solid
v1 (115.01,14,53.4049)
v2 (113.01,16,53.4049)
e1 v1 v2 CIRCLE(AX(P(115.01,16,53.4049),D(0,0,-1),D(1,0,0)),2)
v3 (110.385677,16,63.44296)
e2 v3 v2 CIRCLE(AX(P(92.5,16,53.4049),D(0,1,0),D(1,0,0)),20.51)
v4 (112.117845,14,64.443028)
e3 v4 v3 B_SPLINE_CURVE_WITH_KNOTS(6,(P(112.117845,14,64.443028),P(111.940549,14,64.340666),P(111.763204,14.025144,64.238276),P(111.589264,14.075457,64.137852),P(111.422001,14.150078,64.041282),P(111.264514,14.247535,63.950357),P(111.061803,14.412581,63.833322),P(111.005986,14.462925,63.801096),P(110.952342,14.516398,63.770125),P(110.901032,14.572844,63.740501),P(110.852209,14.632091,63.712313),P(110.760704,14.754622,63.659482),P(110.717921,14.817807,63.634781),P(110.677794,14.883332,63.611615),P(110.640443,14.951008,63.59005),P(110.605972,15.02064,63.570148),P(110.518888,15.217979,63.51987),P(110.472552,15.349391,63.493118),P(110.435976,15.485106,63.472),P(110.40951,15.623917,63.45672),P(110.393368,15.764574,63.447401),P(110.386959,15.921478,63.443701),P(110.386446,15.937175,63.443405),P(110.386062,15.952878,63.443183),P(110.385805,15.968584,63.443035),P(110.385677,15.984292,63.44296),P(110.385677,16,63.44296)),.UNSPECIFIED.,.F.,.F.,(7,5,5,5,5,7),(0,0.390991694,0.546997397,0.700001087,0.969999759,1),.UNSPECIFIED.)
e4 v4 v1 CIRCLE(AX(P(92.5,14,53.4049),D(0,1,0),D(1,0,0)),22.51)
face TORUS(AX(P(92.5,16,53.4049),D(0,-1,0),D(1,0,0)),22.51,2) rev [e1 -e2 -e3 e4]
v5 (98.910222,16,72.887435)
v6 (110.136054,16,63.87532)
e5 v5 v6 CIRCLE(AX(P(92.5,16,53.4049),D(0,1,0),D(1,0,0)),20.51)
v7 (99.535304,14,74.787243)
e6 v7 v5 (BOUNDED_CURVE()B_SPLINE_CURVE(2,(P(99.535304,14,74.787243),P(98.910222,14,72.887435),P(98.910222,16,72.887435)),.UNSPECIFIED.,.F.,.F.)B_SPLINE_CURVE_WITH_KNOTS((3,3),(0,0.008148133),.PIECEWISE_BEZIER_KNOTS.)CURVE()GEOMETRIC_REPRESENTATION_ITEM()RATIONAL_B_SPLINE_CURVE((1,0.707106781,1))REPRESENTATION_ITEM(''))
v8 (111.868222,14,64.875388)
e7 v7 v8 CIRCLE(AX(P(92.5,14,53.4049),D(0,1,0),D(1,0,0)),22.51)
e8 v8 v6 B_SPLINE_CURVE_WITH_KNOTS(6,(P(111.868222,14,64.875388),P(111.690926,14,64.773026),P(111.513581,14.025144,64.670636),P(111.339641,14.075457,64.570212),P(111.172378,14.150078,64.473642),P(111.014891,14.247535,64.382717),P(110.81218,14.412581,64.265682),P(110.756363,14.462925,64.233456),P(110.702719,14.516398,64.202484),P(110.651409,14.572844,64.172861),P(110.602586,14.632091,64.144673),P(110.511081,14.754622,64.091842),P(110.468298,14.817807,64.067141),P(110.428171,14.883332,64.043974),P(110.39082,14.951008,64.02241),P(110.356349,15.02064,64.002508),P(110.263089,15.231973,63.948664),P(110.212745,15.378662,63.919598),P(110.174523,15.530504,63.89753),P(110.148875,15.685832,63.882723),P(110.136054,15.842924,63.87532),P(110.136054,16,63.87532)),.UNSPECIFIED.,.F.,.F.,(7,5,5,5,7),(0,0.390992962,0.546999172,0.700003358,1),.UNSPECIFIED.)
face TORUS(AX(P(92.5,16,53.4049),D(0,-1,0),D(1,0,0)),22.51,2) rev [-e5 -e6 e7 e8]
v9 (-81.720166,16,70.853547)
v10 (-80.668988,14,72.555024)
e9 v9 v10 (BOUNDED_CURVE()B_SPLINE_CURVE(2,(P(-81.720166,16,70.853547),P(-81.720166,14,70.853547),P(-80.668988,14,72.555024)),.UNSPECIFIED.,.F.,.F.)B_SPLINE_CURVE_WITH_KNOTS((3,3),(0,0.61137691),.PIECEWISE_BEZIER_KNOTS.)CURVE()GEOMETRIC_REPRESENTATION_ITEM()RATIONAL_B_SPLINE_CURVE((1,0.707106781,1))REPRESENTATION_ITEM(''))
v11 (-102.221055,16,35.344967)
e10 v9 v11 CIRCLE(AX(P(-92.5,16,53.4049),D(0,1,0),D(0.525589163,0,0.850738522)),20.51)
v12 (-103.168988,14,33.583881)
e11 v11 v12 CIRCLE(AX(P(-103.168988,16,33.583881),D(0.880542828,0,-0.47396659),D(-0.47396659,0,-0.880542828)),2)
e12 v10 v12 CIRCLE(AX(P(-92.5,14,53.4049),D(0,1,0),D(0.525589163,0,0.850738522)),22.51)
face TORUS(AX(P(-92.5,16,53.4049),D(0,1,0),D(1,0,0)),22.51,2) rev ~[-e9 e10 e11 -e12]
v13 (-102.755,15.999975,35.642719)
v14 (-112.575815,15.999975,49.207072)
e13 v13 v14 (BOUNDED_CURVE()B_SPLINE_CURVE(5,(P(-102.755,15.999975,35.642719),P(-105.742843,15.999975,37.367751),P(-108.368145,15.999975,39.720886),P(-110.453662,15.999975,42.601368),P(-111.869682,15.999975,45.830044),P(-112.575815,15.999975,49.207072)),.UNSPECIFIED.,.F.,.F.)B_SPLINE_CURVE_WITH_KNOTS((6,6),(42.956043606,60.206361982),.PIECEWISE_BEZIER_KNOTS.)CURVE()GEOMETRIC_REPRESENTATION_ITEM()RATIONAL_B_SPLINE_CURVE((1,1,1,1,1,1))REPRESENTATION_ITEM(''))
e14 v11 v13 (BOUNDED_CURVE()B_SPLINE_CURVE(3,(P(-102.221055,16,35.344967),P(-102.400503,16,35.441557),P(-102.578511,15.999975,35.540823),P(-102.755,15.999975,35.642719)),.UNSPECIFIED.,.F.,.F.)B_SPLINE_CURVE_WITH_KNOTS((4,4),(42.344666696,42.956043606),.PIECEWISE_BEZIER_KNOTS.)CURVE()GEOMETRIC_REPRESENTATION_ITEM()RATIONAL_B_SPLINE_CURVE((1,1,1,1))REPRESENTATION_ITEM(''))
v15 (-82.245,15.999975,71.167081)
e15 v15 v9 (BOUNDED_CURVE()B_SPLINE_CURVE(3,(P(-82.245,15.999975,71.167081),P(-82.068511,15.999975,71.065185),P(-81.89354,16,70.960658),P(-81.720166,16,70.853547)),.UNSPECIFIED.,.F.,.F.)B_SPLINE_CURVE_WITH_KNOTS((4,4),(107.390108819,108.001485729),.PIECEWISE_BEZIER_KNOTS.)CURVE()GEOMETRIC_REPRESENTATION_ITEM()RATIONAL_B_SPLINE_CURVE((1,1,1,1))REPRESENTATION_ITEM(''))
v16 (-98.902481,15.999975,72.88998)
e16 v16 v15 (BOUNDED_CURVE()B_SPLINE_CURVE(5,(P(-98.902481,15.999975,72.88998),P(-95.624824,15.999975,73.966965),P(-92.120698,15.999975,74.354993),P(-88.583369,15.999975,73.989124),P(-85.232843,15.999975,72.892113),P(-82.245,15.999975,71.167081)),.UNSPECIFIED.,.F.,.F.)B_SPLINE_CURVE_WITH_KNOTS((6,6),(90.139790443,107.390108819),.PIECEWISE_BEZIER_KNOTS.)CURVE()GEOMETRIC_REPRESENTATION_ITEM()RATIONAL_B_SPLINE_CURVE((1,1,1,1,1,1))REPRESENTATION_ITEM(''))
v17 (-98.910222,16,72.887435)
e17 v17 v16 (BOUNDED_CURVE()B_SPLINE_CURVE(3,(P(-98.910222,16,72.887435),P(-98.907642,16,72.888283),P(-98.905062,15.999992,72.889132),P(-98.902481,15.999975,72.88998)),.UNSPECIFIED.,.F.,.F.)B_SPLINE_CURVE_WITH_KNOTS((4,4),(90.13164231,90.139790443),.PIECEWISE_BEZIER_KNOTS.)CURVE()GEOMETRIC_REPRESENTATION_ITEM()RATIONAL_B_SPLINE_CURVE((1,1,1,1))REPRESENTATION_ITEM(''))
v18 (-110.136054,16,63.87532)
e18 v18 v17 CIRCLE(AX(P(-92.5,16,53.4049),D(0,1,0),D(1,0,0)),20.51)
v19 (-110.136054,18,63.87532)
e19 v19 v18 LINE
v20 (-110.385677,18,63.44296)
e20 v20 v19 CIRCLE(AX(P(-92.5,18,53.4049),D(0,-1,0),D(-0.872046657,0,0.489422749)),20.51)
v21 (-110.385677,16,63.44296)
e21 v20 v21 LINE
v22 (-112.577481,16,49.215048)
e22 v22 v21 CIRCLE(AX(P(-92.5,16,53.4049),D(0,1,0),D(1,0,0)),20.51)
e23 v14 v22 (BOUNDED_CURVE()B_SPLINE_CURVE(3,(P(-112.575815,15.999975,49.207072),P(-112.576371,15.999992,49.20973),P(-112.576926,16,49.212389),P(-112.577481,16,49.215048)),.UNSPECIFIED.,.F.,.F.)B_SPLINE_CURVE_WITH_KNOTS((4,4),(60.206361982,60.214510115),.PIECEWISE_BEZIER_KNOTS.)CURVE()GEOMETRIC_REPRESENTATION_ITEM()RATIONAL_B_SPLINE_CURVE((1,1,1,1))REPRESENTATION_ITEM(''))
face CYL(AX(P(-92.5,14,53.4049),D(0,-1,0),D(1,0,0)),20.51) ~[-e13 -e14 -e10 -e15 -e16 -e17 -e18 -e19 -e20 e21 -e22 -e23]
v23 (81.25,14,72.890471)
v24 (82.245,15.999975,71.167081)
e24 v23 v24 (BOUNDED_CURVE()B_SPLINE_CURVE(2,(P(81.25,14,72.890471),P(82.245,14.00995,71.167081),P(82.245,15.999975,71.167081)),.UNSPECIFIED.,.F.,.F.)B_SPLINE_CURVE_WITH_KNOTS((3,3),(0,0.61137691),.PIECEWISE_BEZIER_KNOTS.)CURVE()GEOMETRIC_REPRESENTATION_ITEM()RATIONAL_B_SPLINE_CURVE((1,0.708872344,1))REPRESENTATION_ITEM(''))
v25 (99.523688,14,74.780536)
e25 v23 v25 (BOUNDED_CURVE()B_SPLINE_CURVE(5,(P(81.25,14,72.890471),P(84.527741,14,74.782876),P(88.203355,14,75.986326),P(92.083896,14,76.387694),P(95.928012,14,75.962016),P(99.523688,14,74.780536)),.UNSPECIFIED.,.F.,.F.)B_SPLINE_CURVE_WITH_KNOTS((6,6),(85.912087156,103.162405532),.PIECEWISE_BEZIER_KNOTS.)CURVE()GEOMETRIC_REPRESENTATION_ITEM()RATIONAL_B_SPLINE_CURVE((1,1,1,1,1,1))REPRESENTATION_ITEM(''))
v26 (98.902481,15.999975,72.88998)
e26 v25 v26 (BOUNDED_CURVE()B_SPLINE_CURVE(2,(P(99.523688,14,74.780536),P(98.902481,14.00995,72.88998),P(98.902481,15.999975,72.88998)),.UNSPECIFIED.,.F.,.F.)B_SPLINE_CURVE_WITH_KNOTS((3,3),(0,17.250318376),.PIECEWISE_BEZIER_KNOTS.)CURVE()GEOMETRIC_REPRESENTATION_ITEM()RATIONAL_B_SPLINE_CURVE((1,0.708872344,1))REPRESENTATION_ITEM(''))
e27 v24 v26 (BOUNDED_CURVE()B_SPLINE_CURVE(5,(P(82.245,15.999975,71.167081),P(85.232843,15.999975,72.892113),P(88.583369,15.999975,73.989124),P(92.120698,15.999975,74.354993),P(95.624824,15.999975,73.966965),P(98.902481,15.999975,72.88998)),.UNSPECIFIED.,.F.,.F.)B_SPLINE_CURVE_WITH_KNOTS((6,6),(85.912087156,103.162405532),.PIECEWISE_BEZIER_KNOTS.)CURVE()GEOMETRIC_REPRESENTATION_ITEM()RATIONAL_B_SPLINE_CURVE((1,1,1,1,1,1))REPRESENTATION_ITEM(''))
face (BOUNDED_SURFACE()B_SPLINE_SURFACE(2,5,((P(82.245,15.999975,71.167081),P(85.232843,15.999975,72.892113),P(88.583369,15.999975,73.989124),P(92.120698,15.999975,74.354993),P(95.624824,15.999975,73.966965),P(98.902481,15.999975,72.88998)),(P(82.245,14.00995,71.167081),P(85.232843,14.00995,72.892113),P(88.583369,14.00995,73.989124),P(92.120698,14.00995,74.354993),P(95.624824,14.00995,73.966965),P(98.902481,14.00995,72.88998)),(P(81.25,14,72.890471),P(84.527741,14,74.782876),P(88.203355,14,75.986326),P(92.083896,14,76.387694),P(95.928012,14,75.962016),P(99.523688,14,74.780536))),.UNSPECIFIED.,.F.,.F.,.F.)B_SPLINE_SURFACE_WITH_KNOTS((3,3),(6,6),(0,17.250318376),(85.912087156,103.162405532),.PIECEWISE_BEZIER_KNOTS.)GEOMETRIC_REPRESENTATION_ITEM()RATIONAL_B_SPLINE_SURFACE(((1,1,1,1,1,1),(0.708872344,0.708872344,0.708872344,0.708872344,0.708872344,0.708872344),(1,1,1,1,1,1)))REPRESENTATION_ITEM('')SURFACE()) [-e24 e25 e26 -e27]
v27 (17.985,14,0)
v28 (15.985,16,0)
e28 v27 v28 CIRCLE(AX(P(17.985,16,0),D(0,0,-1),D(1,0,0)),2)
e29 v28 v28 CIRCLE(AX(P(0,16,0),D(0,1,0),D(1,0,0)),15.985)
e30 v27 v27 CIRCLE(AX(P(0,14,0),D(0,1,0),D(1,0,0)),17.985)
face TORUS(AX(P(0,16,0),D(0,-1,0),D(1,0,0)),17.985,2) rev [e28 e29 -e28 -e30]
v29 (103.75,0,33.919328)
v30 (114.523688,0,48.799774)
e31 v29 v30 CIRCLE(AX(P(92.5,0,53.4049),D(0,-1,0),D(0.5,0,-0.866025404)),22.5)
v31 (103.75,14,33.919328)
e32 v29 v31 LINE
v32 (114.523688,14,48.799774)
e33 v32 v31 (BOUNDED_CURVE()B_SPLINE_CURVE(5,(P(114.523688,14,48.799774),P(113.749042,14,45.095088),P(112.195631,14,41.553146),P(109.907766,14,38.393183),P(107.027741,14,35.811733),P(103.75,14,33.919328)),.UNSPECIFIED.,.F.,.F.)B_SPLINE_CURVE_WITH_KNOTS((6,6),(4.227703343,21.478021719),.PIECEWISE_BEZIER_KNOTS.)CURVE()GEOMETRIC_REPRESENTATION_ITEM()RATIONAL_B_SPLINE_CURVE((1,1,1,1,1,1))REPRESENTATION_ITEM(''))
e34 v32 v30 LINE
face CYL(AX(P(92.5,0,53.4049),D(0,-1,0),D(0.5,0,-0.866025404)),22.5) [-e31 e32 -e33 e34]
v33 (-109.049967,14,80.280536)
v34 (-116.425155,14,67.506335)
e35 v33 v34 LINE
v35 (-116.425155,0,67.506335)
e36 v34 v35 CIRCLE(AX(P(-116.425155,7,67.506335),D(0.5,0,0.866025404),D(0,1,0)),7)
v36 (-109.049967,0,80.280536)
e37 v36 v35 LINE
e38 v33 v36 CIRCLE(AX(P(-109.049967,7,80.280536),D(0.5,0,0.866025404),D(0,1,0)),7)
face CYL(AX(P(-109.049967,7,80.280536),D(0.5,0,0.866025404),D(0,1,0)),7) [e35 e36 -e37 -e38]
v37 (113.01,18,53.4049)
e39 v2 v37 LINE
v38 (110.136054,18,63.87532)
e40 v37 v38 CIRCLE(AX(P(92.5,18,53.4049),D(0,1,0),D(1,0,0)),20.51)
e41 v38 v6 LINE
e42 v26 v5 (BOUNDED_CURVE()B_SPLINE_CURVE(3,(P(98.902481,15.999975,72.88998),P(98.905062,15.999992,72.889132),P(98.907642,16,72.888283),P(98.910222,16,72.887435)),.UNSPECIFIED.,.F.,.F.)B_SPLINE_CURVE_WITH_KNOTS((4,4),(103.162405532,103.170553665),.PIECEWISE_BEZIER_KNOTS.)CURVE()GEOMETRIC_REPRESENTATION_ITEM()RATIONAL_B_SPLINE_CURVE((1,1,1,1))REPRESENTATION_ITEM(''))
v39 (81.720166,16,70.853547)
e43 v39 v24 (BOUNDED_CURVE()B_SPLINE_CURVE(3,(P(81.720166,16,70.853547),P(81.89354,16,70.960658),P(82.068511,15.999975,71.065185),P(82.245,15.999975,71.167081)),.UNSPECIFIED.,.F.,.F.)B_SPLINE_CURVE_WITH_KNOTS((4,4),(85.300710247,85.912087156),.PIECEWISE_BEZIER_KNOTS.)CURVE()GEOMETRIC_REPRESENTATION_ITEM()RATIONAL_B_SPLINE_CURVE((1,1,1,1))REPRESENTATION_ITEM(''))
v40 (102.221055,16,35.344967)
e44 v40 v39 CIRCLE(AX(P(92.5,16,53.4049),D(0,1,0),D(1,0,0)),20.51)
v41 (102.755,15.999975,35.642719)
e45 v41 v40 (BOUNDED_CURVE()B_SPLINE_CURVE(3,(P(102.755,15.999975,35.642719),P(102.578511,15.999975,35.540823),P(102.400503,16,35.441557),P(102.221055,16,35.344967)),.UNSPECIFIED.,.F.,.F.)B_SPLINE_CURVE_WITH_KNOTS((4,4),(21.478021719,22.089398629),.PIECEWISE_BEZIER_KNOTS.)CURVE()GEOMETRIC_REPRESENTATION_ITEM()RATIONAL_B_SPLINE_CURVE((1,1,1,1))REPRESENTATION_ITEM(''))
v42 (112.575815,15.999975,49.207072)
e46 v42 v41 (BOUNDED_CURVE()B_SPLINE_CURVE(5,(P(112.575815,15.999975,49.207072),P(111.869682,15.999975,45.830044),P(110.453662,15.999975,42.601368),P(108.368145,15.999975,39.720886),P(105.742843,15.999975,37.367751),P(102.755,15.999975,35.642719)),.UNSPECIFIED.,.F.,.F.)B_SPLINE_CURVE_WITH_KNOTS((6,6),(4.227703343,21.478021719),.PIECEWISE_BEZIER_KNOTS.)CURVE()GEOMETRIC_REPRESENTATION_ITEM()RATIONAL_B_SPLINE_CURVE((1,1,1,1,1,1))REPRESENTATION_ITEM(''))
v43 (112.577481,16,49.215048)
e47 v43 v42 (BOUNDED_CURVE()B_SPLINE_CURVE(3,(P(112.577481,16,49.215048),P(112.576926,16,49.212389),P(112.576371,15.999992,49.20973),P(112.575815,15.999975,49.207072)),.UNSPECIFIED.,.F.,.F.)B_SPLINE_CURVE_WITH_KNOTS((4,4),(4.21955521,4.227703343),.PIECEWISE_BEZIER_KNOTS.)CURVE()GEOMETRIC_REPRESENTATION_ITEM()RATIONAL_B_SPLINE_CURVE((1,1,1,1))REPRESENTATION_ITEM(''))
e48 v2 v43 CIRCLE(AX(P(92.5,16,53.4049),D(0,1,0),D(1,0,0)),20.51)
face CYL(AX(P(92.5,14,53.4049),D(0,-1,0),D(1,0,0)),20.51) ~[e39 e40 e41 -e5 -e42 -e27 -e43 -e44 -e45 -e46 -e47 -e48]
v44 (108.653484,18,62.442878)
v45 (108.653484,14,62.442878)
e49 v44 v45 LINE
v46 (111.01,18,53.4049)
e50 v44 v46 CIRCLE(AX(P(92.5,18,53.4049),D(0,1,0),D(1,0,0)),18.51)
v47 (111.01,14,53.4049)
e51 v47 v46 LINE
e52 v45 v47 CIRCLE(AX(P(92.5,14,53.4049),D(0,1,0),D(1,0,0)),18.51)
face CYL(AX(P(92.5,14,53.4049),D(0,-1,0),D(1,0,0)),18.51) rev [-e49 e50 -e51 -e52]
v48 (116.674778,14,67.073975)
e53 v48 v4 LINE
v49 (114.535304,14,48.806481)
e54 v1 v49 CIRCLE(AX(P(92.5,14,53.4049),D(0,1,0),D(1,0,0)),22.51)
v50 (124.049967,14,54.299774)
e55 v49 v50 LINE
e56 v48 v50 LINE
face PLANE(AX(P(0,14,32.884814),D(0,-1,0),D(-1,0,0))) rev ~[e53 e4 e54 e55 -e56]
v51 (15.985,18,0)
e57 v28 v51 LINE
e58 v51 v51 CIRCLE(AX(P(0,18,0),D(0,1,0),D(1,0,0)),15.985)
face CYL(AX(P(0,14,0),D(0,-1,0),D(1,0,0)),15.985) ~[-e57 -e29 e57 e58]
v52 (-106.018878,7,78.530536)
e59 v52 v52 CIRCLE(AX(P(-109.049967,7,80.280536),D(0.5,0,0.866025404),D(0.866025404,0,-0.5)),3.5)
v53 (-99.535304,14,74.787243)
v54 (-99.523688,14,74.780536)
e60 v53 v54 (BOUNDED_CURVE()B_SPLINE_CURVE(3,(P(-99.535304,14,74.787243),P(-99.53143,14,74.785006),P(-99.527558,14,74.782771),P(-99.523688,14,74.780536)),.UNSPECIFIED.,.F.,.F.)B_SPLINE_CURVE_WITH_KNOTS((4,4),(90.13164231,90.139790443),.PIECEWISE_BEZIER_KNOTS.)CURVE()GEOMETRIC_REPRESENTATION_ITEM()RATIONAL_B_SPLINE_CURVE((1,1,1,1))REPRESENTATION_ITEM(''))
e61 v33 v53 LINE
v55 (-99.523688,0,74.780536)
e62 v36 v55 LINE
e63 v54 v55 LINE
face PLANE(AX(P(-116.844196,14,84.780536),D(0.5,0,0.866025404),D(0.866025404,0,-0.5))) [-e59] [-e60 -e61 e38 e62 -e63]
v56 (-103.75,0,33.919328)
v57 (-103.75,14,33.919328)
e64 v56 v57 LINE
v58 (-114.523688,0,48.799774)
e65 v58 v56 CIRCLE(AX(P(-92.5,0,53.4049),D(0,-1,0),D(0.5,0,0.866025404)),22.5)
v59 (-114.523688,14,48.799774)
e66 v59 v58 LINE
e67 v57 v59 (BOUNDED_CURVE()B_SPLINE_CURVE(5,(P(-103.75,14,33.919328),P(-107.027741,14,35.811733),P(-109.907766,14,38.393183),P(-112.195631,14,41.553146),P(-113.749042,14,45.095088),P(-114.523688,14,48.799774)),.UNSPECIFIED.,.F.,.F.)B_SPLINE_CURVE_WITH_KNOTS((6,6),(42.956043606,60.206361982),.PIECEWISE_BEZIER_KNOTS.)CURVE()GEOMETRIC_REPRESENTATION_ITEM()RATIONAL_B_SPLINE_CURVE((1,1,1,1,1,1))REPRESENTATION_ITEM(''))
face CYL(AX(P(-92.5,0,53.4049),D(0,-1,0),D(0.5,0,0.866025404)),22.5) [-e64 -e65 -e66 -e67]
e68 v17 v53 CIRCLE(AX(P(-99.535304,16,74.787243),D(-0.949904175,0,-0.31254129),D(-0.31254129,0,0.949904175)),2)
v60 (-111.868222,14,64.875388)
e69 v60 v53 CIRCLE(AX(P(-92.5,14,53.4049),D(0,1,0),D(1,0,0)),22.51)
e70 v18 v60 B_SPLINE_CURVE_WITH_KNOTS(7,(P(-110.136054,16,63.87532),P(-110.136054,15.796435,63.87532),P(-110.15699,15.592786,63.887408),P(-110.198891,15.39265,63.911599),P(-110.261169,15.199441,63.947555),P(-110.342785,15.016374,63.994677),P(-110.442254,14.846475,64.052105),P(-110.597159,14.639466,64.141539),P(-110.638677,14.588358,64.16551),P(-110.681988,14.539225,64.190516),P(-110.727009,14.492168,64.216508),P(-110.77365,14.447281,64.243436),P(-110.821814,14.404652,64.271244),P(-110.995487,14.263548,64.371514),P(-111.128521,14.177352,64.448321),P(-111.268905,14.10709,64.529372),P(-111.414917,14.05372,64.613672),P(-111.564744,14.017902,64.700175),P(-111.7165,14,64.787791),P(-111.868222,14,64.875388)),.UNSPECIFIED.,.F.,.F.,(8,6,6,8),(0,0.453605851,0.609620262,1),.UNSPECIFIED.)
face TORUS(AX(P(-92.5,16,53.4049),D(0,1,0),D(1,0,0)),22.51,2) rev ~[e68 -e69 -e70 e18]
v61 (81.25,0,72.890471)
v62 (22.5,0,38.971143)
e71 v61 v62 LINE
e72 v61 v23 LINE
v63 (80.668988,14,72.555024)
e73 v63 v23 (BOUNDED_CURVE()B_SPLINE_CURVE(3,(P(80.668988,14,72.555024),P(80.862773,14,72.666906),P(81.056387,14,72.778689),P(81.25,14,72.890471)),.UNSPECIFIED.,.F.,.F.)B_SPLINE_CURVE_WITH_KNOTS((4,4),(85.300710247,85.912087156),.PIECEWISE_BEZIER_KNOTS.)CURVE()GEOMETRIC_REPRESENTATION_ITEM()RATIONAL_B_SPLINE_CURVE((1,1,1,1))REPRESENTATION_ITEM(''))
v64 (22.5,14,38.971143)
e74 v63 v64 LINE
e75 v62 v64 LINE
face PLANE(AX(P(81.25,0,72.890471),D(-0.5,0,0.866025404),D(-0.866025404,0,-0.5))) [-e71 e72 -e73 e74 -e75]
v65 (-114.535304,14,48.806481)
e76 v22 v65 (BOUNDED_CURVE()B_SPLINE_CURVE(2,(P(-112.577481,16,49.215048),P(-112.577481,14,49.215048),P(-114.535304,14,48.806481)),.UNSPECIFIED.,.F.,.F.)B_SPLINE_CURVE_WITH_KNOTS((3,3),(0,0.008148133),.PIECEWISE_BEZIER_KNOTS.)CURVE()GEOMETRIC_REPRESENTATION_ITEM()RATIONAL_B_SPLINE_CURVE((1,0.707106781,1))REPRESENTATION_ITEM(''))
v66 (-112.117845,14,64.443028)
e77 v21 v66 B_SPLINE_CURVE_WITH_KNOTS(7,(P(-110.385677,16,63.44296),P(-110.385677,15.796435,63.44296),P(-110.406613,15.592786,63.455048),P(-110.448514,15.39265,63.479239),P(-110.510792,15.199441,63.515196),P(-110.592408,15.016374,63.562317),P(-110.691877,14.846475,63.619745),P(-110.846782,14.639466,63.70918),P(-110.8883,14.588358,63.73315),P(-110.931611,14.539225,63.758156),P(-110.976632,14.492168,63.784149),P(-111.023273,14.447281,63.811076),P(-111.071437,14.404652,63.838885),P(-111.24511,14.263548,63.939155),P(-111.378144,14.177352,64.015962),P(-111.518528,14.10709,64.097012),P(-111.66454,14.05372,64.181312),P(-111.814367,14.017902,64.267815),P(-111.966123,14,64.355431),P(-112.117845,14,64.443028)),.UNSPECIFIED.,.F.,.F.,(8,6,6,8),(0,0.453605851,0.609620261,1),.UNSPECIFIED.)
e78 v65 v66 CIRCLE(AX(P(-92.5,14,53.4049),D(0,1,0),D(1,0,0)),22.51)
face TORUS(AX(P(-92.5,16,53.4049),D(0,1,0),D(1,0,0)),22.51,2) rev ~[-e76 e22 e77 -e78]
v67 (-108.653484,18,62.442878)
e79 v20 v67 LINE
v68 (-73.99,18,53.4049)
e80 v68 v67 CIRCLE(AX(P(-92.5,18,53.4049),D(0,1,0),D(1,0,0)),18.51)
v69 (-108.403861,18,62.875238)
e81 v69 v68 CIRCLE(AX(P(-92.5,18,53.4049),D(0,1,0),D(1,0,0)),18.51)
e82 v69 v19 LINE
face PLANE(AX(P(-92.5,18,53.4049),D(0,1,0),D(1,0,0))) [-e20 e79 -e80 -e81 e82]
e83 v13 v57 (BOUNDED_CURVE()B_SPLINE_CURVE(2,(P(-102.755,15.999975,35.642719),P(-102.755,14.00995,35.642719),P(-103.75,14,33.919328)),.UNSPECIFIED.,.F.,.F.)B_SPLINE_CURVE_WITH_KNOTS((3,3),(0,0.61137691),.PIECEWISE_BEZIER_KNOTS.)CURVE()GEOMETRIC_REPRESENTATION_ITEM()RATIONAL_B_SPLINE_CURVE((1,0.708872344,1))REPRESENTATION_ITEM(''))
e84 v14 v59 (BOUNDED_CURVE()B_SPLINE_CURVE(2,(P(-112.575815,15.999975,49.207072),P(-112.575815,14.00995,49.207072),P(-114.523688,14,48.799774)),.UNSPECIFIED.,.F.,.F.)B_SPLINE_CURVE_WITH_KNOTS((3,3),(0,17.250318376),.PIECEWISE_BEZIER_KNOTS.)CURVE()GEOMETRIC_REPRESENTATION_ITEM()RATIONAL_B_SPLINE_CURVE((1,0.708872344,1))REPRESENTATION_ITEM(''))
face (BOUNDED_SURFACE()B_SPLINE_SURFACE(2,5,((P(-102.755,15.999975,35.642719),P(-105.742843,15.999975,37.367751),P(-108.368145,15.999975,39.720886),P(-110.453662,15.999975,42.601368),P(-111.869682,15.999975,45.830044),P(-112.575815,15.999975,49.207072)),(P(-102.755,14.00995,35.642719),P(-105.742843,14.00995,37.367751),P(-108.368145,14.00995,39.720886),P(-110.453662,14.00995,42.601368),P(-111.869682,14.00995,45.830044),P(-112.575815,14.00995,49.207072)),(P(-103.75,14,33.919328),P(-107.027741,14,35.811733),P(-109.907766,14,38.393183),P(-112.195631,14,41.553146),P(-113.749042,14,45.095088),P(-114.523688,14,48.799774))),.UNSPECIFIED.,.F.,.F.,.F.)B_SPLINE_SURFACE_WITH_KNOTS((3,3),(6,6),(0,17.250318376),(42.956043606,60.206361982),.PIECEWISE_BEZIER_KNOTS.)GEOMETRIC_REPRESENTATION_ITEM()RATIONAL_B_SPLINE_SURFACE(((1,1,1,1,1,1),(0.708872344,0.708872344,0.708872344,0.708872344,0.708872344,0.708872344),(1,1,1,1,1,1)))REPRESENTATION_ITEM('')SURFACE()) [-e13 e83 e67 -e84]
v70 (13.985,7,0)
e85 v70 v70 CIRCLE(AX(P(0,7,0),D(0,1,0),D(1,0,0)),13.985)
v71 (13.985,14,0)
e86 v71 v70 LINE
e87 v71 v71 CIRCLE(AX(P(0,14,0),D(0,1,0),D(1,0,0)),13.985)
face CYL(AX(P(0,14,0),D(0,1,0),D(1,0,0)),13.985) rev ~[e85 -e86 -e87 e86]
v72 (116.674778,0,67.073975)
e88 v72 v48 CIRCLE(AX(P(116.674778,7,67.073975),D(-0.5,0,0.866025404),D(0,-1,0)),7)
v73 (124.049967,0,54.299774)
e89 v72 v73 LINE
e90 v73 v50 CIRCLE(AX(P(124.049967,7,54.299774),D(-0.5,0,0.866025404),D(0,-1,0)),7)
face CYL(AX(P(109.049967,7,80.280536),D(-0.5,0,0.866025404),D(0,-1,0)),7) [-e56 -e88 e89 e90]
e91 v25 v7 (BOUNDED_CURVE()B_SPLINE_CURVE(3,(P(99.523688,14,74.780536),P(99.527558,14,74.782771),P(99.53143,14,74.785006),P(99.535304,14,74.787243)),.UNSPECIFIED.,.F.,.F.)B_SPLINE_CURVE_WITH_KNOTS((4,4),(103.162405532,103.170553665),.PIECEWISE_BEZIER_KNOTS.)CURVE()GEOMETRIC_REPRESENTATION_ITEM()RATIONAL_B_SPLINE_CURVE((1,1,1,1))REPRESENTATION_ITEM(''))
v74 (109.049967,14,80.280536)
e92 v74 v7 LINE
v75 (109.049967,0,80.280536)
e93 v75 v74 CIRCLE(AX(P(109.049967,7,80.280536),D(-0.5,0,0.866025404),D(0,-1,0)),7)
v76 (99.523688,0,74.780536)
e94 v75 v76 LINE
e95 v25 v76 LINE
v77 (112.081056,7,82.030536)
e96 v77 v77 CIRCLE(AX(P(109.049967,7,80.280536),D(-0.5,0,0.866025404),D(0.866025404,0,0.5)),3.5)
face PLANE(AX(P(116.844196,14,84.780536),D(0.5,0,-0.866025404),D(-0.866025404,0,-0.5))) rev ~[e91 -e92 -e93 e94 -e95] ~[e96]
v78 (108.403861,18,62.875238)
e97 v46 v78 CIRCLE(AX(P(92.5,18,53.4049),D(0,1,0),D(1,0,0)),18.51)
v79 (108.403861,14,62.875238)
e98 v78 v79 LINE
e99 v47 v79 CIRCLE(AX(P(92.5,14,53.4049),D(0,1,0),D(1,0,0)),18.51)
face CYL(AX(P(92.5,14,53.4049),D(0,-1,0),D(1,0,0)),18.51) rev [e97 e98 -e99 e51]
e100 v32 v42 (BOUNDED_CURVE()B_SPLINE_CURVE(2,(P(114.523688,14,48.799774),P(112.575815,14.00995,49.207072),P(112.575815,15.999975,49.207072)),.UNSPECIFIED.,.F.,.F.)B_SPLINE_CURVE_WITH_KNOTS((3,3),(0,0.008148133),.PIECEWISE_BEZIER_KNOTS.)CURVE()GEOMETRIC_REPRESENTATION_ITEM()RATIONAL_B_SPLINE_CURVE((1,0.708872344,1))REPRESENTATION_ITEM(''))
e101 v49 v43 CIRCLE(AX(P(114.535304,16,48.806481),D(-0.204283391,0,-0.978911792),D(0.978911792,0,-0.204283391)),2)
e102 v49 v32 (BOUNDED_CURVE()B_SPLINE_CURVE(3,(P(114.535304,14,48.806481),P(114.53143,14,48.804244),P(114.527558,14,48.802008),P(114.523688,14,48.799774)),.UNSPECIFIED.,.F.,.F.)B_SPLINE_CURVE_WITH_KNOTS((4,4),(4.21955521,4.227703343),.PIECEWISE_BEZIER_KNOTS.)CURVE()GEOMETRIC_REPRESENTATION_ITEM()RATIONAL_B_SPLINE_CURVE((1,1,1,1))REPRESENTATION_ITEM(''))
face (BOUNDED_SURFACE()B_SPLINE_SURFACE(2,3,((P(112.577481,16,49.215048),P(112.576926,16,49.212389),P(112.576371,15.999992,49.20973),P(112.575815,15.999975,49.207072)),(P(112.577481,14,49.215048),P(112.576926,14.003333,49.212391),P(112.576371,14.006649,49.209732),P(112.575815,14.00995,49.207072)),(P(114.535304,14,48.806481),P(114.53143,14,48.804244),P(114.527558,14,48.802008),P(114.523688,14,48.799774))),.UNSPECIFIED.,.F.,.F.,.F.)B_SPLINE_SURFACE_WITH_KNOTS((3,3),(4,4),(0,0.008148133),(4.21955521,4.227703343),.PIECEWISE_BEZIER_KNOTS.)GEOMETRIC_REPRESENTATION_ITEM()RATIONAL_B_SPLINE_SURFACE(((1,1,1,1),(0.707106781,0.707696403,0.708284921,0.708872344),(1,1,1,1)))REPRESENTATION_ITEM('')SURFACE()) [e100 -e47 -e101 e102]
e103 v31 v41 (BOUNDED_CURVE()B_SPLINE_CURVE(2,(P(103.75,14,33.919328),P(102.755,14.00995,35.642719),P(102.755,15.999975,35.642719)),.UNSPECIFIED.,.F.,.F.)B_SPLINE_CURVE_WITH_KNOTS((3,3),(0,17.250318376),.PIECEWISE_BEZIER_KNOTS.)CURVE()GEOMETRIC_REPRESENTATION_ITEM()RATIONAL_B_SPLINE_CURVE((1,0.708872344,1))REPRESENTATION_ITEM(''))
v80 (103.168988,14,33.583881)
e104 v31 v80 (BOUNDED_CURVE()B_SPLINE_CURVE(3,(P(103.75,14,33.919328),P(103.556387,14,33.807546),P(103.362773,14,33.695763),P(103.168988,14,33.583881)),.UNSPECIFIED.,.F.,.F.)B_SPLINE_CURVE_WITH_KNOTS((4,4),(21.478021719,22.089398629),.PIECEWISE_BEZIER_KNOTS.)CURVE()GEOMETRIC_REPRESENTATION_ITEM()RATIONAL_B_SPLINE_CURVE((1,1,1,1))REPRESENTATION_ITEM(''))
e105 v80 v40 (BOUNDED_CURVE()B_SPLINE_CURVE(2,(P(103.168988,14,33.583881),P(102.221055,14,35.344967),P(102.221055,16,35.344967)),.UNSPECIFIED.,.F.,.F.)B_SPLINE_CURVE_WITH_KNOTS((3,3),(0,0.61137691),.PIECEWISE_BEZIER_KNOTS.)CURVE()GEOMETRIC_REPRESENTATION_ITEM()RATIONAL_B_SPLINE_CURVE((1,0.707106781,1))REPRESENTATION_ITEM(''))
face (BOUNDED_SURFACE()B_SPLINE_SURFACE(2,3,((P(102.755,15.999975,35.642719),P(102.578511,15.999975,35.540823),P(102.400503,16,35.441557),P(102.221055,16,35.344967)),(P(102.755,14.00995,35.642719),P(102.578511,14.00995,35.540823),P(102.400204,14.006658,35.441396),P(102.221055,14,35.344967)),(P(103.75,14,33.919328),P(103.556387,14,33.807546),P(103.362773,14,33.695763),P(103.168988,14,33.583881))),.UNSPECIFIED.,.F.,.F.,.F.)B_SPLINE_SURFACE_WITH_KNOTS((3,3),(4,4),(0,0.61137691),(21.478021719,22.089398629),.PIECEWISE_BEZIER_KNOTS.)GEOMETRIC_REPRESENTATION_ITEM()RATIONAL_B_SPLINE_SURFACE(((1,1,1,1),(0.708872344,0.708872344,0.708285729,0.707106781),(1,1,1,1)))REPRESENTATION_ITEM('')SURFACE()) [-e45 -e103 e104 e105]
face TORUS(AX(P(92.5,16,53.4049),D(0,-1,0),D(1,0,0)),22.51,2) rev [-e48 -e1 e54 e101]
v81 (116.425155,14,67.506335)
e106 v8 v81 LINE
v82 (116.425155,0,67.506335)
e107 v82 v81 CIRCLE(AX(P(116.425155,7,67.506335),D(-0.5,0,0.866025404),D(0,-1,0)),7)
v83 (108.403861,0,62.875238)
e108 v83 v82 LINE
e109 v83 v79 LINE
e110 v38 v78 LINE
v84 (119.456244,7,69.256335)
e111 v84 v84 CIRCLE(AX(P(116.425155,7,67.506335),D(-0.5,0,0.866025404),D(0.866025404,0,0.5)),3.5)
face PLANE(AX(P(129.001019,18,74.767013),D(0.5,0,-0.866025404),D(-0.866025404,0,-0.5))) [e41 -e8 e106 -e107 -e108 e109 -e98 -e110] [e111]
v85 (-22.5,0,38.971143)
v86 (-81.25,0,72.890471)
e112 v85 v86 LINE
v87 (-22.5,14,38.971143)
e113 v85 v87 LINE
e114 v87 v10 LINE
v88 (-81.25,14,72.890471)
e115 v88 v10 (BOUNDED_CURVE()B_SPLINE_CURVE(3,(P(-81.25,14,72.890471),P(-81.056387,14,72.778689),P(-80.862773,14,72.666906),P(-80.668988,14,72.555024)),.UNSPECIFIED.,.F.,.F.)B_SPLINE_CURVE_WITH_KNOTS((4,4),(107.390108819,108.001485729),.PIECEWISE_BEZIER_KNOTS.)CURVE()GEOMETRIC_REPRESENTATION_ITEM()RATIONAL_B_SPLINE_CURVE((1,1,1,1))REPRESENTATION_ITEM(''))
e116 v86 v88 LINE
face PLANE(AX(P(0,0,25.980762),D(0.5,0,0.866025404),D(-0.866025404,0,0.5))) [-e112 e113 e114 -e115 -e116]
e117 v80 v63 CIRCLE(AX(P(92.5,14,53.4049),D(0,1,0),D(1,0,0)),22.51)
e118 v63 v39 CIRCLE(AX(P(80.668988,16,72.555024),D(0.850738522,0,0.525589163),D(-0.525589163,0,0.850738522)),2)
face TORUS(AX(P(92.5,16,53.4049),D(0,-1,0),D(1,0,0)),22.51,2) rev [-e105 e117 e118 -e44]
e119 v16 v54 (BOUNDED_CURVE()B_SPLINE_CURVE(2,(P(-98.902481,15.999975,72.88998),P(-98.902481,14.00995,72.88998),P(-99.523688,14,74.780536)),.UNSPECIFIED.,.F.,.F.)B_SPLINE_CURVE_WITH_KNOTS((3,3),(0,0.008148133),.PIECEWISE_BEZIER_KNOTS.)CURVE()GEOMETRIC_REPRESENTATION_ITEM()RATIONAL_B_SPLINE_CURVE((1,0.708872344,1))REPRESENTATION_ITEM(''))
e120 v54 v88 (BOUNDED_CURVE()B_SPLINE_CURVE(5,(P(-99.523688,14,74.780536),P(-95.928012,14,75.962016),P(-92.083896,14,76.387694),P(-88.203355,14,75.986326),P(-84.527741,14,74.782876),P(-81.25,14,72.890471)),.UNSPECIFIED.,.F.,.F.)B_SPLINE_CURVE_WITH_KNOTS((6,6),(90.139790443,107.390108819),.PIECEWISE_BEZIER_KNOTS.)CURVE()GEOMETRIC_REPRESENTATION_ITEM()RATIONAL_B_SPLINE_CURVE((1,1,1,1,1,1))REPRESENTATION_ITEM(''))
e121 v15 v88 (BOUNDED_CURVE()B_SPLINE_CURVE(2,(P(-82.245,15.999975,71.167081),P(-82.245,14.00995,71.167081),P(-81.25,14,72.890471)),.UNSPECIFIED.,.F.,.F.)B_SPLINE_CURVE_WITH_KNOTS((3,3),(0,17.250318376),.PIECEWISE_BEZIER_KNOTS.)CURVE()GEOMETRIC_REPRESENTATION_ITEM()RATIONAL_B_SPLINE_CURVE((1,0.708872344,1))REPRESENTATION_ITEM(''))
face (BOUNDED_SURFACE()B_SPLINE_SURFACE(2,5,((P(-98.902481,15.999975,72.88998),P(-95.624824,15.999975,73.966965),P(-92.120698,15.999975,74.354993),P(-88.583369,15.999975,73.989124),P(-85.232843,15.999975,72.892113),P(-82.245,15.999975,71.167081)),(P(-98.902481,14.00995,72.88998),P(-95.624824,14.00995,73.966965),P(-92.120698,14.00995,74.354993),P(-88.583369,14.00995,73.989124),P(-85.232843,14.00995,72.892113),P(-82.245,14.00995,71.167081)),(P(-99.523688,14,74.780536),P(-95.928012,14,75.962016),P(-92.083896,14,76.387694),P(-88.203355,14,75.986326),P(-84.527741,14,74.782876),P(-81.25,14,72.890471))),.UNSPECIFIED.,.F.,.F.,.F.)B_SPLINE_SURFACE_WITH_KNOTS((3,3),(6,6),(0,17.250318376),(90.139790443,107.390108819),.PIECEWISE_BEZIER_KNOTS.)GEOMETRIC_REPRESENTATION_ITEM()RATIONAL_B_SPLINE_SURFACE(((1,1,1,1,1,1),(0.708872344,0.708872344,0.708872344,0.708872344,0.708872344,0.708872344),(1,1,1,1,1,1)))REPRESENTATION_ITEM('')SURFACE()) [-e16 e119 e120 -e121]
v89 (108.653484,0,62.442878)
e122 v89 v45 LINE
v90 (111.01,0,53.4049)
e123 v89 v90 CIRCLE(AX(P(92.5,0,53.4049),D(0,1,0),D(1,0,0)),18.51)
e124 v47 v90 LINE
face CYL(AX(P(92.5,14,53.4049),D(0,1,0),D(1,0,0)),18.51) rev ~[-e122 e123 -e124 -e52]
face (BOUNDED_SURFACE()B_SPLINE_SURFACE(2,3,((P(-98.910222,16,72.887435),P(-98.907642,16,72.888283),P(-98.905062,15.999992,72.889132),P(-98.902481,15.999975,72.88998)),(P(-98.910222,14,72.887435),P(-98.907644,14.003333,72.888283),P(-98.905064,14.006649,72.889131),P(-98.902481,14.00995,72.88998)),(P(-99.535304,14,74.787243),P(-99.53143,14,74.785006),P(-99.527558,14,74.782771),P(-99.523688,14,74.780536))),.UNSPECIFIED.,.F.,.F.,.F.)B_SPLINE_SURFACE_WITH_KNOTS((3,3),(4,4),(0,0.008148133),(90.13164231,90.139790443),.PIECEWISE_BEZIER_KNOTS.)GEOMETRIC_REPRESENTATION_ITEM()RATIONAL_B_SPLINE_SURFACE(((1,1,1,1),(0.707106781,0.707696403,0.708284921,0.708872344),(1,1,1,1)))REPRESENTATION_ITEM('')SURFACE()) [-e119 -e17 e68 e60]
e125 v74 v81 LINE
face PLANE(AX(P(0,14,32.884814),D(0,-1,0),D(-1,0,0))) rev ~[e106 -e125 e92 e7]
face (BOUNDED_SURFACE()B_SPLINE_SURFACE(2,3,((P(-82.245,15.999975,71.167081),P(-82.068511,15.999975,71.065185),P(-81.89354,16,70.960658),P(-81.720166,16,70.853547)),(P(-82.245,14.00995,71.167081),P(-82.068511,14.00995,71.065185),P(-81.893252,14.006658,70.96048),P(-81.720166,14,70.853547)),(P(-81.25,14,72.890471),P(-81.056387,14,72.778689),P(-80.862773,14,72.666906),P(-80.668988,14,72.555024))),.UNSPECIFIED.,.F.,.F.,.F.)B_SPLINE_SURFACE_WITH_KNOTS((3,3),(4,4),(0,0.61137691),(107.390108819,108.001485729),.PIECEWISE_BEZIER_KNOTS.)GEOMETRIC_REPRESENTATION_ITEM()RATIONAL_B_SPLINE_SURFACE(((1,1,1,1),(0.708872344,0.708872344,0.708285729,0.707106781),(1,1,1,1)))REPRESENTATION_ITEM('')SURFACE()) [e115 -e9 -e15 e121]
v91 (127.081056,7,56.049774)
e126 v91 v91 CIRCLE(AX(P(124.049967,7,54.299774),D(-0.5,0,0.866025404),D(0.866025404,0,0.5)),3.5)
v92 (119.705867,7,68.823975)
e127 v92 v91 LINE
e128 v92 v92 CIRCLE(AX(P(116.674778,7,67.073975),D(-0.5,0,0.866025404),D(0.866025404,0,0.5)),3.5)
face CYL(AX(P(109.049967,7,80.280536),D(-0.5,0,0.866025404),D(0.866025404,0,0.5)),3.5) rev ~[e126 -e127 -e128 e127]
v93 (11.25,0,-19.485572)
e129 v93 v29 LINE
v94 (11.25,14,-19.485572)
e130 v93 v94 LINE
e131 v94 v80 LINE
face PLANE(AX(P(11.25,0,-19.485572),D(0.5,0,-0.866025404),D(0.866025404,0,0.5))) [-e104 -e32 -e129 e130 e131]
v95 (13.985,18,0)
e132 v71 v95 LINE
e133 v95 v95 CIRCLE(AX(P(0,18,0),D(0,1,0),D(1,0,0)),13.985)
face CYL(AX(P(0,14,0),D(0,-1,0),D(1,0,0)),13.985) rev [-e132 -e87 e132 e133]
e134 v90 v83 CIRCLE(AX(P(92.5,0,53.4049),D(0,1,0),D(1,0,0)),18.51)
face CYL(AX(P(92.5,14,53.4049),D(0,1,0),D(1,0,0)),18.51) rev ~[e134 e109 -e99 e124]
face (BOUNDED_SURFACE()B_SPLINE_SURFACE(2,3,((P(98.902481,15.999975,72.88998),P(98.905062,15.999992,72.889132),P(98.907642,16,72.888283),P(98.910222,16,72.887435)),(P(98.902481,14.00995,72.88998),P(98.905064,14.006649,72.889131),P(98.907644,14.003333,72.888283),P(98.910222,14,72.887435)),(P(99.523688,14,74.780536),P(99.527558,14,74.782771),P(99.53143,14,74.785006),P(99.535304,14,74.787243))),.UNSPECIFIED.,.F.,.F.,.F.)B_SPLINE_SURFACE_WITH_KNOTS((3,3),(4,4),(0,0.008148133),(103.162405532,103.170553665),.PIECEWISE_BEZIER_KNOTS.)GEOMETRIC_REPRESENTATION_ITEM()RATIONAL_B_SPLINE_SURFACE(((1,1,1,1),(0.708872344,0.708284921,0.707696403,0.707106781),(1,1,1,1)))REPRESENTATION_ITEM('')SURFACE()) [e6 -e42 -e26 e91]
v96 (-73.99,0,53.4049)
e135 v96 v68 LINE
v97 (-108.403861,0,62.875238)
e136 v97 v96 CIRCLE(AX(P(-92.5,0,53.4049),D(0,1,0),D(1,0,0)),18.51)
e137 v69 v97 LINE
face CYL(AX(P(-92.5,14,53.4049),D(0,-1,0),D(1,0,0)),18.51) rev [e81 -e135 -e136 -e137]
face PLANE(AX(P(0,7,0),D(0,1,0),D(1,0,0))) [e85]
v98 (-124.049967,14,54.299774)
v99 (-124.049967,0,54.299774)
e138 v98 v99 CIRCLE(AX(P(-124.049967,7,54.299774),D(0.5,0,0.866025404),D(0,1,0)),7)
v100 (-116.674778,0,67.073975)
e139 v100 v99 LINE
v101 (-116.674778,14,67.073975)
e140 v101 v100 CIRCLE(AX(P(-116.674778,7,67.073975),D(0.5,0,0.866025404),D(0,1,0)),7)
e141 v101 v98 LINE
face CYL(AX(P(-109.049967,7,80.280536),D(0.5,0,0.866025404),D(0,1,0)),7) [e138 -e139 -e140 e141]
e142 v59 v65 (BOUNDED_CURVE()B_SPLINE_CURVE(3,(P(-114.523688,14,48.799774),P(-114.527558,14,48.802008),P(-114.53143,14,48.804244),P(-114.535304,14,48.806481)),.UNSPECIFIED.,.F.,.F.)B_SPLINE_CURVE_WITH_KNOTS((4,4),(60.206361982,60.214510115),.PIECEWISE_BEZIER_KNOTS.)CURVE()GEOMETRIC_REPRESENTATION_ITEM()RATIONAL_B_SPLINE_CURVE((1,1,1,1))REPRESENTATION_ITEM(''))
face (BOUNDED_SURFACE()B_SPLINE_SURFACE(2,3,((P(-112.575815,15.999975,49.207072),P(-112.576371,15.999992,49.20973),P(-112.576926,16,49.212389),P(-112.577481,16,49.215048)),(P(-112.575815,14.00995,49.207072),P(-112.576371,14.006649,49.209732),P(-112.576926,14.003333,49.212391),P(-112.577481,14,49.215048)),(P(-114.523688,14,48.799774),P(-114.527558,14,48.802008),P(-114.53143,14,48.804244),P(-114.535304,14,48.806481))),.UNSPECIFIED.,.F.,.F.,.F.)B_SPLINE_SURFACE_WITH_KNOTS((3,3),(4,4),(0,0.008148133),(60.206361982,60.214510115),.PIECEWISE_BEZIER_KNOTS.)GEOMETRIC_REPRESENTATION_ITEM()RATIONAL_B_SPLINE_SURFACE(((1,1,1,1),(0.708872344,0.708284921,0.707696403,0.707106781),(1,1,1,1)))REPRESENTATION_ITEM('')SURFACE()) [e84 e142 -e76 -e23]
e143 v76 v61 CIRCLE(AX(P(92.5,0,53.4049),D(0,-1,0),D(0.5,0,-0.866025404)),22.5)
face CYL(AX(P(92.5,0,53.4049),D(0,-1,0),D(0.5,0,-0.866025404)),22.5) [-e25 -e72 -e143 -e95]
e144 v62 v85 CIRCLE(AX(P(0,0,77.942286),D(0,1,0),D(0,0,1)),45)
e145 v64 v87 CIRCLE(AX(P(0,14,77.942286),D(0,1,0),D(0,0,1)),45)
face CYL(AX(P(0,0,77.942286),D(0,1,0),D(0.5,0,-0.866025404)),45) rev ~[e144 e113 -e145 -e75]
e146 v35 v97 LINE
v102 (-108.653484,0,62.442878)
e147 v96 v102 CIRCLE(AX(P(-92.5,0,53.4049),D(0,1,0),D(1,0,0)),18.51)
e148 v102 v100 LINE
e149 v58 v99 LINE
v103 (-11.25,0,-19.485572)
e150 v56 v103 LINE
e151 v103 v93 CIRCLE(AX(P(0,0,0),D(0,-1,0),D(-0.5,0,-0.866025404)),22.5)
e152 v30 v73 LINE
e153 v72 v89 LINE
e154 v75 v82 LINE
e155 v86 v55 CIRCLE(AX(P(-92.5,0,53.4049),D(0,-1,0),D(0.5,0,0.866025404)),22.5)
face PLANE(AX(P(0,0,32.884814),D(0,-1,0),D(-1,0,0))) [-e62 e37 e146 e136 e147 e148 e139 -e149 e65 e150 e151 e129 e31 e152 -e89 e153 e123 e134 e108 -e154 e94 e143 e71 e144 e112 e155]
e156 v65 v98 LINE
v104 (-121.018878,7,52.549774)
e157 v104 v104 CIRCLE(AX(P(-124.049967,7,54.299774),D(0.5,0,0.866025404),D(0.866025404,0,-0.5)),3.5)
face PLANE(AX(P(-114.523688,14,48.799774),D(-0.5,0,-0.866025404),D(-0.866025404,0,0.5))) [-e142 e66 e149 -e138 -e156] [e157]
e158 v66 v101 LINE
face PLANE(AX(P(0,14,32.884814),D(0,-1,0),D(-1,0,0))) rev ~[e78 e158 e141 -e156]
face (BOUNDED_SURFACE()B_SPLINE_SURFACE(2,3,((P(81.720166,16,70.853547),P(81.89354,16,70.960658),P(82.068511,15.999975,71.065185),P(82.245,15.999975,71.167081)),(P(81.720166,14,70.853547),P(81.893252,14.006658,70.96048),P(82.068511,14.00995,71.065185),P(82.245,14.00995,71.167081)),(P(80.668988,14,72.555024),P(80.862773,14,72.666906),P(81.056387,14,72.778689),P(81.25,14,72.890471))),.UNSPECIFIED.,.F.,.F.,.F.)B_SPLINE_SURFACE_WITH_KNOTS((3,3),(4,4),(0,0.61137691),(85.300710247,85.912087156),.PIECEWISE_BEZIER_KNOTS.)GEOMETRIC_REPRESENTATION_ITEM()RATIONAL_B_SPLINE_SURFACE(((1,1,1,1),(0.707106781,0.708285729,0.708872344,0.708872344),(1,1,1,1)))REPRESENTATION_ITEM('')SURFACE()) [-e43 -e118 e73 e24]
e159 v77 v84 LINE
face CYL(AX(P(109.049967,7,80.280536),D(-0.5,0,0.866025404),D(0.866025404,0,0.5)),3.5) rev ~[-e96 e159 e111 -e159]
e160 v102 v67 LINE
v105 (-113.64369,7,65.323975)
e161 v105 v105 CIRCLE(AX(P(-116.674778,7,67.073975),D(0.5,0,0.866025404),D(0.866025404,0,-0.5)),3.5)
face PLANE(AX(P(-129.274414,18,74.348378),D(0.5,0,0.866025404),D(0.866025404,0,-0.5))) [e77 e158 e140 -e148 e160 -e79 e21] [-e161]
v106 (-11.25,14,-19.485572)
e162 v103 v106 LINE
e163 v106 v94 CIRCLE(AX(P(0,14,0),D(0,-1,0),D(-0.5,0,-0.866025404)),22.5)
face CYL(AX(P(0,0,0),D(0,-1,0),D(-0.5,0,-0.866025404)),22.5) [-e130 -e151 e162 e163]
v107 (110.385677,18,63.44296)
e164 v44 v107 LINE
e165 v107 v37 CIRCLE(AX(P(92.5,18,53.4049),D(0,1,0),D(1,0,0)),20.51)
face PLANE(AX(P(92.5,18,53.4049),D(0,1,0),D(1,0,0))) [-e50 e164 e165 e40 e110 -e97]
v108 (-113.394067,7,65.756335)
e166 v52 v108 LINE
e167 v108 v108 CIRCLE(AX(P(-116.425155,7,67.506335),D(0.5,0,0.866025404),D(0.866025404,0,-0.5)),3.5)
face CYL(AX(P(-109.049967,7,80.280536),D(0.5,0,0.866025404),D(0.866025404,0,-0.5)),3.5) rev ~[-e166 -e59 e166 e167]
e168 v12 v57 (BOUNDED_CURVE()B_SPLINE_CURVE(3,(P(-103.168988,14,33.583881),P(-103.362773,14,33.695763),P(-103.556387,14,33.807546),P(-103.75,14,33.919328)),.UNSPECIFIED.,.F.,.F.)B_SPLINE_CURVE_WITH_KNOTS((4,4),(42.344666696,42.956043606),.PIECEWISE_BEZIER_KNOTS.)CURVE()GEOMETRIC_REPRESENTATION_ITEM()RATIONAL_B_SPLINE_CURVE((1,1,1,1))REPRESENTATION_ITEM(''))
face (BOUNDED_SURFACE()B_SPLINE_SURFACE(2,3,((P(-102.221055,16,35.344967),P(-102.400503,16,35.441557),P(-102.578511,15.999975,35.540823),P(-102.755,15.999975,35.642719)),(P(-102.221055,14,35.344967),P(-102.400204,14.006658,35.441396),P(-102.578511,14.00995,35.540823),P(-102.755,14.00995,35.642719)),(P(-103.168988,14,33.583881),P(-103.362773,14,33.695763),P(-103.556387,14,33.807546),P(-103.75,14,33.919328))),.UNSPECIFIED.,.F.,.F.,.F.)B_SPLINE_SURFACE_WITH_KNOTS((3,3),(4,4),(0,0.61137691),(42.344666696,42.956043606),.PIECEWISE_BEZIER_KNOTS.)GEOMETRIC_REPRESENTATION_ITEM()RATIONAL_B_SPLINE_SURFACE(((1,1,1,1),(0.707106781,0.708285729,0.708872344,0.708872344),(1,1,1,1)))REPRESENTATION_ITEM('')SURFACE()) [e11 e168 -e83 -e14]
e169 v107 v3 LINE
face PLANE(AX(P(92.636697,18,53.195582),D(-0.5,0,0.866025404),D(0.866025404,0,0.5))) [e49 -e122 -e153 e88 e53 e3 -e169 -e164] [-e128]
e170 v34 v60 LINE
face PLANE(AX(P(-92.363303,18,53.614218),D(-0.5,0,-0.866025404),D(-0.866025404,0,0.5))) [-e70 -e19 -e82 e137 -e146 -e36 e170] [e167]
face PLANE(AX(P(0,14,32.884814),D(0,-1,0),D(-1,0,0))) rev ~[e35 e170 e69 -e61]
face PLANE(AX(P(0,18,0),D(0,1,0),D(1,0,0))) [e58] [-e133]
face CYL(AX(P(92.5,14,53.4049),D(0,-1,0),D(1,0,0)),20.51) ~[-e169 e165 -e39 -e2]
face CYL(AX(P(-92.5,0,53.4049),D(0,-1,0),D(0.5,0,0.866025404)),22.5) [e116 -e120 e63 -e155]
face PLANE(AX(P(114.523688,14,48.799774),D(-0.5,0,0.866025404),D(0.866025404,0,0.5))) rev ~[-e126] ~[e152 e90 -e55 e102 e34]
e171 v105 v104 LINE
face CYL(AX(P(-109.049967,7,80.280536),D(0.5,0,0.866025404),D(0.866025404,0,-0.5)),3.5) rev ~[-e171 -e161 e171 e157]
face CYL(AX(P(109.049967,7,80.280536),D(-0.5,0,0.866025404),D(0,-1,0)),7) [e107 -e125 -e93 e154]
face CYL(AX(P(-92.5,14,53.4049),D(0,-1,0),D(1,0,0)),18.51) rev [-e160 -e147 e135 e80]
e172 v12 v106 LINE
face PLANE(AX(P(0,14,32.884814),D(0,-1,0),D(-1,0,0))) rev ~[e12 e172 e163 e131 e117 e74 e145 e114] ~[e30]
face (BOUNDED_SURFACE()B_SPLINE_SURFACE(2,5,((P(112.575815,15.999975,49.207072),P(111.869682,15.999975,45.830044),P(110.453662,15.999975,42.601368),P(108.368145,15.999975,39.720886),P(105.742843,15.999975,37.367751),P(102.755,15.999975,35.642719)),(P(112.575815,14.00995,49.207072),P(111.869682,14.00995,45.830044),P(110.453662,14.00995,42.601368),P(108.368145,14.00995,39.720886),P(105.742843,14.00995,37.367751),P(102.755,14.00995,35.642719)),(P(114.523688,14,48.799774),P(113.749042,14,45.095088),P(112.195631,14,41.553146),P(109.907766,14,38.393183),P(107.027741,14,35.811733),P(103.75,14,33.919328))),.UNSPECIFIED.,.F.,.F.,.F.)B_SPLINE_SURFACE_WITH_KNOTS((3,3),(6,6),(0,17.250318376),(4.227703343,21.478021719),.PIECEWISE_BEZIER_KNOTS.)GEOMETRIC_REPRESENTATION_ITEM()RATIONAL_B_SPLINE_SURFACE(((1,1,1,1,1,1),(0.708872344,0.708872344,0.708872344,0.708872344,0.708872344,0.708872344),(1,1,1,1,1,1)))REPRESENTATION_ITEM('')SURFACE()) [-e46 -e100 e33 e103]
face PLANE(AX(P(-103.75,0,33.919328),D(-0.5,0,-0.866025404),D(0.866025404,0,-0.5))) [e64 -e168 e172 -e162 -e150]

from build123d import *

# Parameters (mm, degrees)
BOSS_EXTRUDE1_DEPTH = 14
FILLET2_R           = 45
SKETCH2_R           = 18.51
CUT_EXTRUDE1_DEPTH  = 15
SKETCH3_R           = 13.985
CUT_EXTRUDE2_DEPTH  = 7
BOSS_EXTRUDE2_DEPTH = 14
CUT_EXTRUDE3_DEPTH  = 101.407669397
CUT_EXTRUDE4_DEPTH  = 101.407669397
SKETCH9_R           = 20.51
SKETCH9_R_2         = 18.51
SKETCH9_R_3         = 15.985
SKETCH9_R_4         = 13.985
BOSS_EXTRUDE3_DEPTH = 4
FILLET5_R           = 2
SKETCH10_R          = 3.5
CUT_EXTRUDE5_DEPTH  = 42
SKETCH11_R          = 3.5
CUT_EXTRUDE6_DEPTH  = 42
CUT_EXTRUDE7_DEPTH  = 42


with BuildPart() as part:
    # Sketch1 → Boss-Extrude1 (new body)
    with BuildSketch(Plane(origin=(0, 0, 0), x_dir=(1, 0, 0), z_dir=(0, 1, 0))):
        with BuildLine():
            Line((-103.75, -33.919328315), (-11.25, 19.485571585))
            ThreePointArc((-11.25, 19.485571585), (0, 22.5), (11.25, 19.485571585))
            Line((11.25, 19.485571585), (103.75, -33.919328315))
            ThreePointArc((103.75, -33.919328315), (111.985571585, -64.6548999), (81.25, -72.890471485))
            Line((81.25, -72.890471485), (0, -25.980762114))
            Line((0, -25.980762114), (-81.25, -72.890471485))
            ThreePointArc((-81.25, -72.890471485), (-111.985571585, -64.6548999), (-103.75, -33.919328315))
        make_face()
    extrude(amount=BOSS_EXTRUDE1_DEPTH)

    # Fillet2
    fillet2_edges = [part.edges().sort_by_distance(p)[0] for p in [
        (0, 7, 25.980762114),
    ]]
    fillet(fillet2_edges, radius=FILLET2_R)

    # Sketch2 → Cut-Extrude1 (cut, through all)
    with BuildSketch(Plane(origin=(0, 14, 0), x_dir=(1, 0, 0), z_dir=(0, 1, 0))):
        with Locations((-92.5, -53.4048999)):
            Circle(SKETCH2_R)
        with Locations((92.5, -53.4048999)):
            Circle(SKETCH2_R)
    extrude(amount=-CUT_EXTRUDE1_DEPTH, mode=Mode.SUBTRACT)

    # Sketch3 → Cut-Extrude2 (cut)
    with BuildSketch(Plane(origin=(0, 14, 0), x_dir=(1, 0, 0), z_dir=(0, 1, 0))):
        Circle(SKETCH3_R)
    extrude(amount=-CUT_EXTRUDE2_DEPTH, mode=Mode.SUBTRACT)

    # Sketch4 → Boss-Extrude2 (add)
    with BuildSketch(Plane(origin=(0, 14, 0), x_dir=(1, 0, 0), z_dir=(0, 1, 0))):
        with BuildLine():
            Line((-114.523687548, -48.799773759), (-131.844195624, -58.799773759))
            Line((-131.844195624, -58.799773759), (-116.844195624, -84.780535872))
            Line((-116.844195624, -84.780535872), (-99.523687548, -74.780535872))
            ThreePointArc((-99.523687548, -74.780535872), (-111.985571585, -64.6548999), (-114.523687548, -48.799773759))
        make_face()
        with BuildLine():
            Line((114.523687548, -48.799773759), (131.844195624, -58.799773759))
            Line((131.844195624, -58.799773759), (116.844195624, -84.780535872))
            Line((116.844195624, -84.780535872), (99.523687548, -74.780535872))
            ThreePointArc((99.523687548, -74.780535872), (111.985571585, -64.6548999), (114.523687548, -48.799773759))
        make_face()
    extrude(amount=-BOSS_EXTRUDE2_DEPTH)

    # Sketch5 → Cut-Extrude3 (cut, through all)
    with BuildSketch(Plane(origin=(7.5, 0, 12.990381057), x_dir=(0.866025404, 0, -0.5), z_dir=(0.5, 0, 0.866025404))):
        with BuildLine():
            Line((-143.580309631, 0), (-143.580309631, 14))
            Line((-143.580309631, 14), (-134.580309631, 14))
            ThreePointArc((-134.580309631, 14), (-141.580309631, 7), (-134.580309631, 0))
            Line((-134.580309631, 0), (-143.580309631, 0))
        make_face()
    extrude(amount=-CUT_EXTRUDE3_DEPTH, mode=Mode.SUBTRACT)

    # Sketch6 → Cut-Extrude4 (cut, through all)
    with BuildSketch(Plane(origin=(-7.5, 0, 12.990381057), x_dir=(0.866025404, 0, 0.5), z_dir=(-0.5, 0, 0.866025404))):
        with BuildLine():
            Line((134.580309631, 14), (143.580309631, 14))
            Line((143.580309631, 14), (143.580309631, 0))
            Line((143.580309631, 0), (134.580309631, 0))
            ThreePointArc((134.580309631, 0), (141.580309631, 7), (134.580309631, 14))
        make_face()
    extrude(amount=-CUT_EXTRUDE4_DEPTH, mode=Mode.SUBTRACT)

    # Sketch9 → Boss-Extrude3 (add)
    with BuildSketch(Plane(origin=(0, 14, 0), x_dir=(1, 0, 0), z_dir=(0, 1, 0))):
        with Locations((-92.5, -53.4048999)):
            Circle(SKETCH9_R)
        with Locations((-92.5, -53.4048999)):
            Circle(SKETCH9_R_2, mode=Mode.SUBTRACT)
        Circle(SKETCH9_R_3)
        Circle(SKETCH9_R_4, mode=Mode.SUBTRACT)
        with Locations((92.5, -53.4048999)):
            Circle(SKETCH9_R)
        with Locations((92.5, -53.4048999)):
            Circle(SKETCH9_R_2, mode=Mode.SUBTRACT)
    extrude(amount=BOSS_EXTRUDE3_DEPTH)

    # Fillet5
    fillet5_edges = [part.edges().sort_by_distance(p)[0] for p in [
        (-113.01, 14, 53.4048999),
        (-15.985, 14, 0),
        (71.99, 14, 53.4048999),
    ]]
    fillet(fillet5_edges, radius=FILLET5_R)

    # Sketch10 → Cut-Extrude5 (cut)
    with BuildSketch(Plane(origin=(7.5, 0, 12.990381057), x_dir=(0.866025404, 0, -0.5), z_dir=(0.5, 0, 0.866025404))):
        with Locations((-134.580309631, 7)):
            Circle(SKETCH10_R)
    extrude(amount=-CUT_EXTRUDE5_DEPTH, mode=Mode.SUBTRACT)

    # Sketch11 → Cut-Extrude6 (cut)
    with BuildSketch(Plane(origin=(-7.5, 0, 12.990381057), x_dir=(0.866025404, 0, 0.5), z_dir=(-0.5, 0, 0.866025404))):
        with Locations((134.580309631, 7)):
            Circle(SKETCH11_R)
    extrude(amount=-CUT_EXTRUDE6_DEPTH, mode=Mode.SUBTRACT)

    # Sketch12 → Cut-Extrude7 (cut)
    with BuildSketch(Plane(origin=(0, 18, 0), x_dir=(1, 0, 0), z_dir=(0, 1, 0))):
        Polygon((-92.363302775, -53.614217526), (-129.001019076, -74.767012895), (-129.274413527, -74.348377643), (-92.636697225, -53.195582274), align=None)
        Polygon((129.274413527, -74.348377643), (129.001019076, -74.767012895), (92.363302775, -53.614217526), (92.636697225, -53.195582274), align=None)
    extrude(amount=-CUT_EXTRUDE7_DEPTH, mode=Mode.SUBTRACT)


solid = part.part
